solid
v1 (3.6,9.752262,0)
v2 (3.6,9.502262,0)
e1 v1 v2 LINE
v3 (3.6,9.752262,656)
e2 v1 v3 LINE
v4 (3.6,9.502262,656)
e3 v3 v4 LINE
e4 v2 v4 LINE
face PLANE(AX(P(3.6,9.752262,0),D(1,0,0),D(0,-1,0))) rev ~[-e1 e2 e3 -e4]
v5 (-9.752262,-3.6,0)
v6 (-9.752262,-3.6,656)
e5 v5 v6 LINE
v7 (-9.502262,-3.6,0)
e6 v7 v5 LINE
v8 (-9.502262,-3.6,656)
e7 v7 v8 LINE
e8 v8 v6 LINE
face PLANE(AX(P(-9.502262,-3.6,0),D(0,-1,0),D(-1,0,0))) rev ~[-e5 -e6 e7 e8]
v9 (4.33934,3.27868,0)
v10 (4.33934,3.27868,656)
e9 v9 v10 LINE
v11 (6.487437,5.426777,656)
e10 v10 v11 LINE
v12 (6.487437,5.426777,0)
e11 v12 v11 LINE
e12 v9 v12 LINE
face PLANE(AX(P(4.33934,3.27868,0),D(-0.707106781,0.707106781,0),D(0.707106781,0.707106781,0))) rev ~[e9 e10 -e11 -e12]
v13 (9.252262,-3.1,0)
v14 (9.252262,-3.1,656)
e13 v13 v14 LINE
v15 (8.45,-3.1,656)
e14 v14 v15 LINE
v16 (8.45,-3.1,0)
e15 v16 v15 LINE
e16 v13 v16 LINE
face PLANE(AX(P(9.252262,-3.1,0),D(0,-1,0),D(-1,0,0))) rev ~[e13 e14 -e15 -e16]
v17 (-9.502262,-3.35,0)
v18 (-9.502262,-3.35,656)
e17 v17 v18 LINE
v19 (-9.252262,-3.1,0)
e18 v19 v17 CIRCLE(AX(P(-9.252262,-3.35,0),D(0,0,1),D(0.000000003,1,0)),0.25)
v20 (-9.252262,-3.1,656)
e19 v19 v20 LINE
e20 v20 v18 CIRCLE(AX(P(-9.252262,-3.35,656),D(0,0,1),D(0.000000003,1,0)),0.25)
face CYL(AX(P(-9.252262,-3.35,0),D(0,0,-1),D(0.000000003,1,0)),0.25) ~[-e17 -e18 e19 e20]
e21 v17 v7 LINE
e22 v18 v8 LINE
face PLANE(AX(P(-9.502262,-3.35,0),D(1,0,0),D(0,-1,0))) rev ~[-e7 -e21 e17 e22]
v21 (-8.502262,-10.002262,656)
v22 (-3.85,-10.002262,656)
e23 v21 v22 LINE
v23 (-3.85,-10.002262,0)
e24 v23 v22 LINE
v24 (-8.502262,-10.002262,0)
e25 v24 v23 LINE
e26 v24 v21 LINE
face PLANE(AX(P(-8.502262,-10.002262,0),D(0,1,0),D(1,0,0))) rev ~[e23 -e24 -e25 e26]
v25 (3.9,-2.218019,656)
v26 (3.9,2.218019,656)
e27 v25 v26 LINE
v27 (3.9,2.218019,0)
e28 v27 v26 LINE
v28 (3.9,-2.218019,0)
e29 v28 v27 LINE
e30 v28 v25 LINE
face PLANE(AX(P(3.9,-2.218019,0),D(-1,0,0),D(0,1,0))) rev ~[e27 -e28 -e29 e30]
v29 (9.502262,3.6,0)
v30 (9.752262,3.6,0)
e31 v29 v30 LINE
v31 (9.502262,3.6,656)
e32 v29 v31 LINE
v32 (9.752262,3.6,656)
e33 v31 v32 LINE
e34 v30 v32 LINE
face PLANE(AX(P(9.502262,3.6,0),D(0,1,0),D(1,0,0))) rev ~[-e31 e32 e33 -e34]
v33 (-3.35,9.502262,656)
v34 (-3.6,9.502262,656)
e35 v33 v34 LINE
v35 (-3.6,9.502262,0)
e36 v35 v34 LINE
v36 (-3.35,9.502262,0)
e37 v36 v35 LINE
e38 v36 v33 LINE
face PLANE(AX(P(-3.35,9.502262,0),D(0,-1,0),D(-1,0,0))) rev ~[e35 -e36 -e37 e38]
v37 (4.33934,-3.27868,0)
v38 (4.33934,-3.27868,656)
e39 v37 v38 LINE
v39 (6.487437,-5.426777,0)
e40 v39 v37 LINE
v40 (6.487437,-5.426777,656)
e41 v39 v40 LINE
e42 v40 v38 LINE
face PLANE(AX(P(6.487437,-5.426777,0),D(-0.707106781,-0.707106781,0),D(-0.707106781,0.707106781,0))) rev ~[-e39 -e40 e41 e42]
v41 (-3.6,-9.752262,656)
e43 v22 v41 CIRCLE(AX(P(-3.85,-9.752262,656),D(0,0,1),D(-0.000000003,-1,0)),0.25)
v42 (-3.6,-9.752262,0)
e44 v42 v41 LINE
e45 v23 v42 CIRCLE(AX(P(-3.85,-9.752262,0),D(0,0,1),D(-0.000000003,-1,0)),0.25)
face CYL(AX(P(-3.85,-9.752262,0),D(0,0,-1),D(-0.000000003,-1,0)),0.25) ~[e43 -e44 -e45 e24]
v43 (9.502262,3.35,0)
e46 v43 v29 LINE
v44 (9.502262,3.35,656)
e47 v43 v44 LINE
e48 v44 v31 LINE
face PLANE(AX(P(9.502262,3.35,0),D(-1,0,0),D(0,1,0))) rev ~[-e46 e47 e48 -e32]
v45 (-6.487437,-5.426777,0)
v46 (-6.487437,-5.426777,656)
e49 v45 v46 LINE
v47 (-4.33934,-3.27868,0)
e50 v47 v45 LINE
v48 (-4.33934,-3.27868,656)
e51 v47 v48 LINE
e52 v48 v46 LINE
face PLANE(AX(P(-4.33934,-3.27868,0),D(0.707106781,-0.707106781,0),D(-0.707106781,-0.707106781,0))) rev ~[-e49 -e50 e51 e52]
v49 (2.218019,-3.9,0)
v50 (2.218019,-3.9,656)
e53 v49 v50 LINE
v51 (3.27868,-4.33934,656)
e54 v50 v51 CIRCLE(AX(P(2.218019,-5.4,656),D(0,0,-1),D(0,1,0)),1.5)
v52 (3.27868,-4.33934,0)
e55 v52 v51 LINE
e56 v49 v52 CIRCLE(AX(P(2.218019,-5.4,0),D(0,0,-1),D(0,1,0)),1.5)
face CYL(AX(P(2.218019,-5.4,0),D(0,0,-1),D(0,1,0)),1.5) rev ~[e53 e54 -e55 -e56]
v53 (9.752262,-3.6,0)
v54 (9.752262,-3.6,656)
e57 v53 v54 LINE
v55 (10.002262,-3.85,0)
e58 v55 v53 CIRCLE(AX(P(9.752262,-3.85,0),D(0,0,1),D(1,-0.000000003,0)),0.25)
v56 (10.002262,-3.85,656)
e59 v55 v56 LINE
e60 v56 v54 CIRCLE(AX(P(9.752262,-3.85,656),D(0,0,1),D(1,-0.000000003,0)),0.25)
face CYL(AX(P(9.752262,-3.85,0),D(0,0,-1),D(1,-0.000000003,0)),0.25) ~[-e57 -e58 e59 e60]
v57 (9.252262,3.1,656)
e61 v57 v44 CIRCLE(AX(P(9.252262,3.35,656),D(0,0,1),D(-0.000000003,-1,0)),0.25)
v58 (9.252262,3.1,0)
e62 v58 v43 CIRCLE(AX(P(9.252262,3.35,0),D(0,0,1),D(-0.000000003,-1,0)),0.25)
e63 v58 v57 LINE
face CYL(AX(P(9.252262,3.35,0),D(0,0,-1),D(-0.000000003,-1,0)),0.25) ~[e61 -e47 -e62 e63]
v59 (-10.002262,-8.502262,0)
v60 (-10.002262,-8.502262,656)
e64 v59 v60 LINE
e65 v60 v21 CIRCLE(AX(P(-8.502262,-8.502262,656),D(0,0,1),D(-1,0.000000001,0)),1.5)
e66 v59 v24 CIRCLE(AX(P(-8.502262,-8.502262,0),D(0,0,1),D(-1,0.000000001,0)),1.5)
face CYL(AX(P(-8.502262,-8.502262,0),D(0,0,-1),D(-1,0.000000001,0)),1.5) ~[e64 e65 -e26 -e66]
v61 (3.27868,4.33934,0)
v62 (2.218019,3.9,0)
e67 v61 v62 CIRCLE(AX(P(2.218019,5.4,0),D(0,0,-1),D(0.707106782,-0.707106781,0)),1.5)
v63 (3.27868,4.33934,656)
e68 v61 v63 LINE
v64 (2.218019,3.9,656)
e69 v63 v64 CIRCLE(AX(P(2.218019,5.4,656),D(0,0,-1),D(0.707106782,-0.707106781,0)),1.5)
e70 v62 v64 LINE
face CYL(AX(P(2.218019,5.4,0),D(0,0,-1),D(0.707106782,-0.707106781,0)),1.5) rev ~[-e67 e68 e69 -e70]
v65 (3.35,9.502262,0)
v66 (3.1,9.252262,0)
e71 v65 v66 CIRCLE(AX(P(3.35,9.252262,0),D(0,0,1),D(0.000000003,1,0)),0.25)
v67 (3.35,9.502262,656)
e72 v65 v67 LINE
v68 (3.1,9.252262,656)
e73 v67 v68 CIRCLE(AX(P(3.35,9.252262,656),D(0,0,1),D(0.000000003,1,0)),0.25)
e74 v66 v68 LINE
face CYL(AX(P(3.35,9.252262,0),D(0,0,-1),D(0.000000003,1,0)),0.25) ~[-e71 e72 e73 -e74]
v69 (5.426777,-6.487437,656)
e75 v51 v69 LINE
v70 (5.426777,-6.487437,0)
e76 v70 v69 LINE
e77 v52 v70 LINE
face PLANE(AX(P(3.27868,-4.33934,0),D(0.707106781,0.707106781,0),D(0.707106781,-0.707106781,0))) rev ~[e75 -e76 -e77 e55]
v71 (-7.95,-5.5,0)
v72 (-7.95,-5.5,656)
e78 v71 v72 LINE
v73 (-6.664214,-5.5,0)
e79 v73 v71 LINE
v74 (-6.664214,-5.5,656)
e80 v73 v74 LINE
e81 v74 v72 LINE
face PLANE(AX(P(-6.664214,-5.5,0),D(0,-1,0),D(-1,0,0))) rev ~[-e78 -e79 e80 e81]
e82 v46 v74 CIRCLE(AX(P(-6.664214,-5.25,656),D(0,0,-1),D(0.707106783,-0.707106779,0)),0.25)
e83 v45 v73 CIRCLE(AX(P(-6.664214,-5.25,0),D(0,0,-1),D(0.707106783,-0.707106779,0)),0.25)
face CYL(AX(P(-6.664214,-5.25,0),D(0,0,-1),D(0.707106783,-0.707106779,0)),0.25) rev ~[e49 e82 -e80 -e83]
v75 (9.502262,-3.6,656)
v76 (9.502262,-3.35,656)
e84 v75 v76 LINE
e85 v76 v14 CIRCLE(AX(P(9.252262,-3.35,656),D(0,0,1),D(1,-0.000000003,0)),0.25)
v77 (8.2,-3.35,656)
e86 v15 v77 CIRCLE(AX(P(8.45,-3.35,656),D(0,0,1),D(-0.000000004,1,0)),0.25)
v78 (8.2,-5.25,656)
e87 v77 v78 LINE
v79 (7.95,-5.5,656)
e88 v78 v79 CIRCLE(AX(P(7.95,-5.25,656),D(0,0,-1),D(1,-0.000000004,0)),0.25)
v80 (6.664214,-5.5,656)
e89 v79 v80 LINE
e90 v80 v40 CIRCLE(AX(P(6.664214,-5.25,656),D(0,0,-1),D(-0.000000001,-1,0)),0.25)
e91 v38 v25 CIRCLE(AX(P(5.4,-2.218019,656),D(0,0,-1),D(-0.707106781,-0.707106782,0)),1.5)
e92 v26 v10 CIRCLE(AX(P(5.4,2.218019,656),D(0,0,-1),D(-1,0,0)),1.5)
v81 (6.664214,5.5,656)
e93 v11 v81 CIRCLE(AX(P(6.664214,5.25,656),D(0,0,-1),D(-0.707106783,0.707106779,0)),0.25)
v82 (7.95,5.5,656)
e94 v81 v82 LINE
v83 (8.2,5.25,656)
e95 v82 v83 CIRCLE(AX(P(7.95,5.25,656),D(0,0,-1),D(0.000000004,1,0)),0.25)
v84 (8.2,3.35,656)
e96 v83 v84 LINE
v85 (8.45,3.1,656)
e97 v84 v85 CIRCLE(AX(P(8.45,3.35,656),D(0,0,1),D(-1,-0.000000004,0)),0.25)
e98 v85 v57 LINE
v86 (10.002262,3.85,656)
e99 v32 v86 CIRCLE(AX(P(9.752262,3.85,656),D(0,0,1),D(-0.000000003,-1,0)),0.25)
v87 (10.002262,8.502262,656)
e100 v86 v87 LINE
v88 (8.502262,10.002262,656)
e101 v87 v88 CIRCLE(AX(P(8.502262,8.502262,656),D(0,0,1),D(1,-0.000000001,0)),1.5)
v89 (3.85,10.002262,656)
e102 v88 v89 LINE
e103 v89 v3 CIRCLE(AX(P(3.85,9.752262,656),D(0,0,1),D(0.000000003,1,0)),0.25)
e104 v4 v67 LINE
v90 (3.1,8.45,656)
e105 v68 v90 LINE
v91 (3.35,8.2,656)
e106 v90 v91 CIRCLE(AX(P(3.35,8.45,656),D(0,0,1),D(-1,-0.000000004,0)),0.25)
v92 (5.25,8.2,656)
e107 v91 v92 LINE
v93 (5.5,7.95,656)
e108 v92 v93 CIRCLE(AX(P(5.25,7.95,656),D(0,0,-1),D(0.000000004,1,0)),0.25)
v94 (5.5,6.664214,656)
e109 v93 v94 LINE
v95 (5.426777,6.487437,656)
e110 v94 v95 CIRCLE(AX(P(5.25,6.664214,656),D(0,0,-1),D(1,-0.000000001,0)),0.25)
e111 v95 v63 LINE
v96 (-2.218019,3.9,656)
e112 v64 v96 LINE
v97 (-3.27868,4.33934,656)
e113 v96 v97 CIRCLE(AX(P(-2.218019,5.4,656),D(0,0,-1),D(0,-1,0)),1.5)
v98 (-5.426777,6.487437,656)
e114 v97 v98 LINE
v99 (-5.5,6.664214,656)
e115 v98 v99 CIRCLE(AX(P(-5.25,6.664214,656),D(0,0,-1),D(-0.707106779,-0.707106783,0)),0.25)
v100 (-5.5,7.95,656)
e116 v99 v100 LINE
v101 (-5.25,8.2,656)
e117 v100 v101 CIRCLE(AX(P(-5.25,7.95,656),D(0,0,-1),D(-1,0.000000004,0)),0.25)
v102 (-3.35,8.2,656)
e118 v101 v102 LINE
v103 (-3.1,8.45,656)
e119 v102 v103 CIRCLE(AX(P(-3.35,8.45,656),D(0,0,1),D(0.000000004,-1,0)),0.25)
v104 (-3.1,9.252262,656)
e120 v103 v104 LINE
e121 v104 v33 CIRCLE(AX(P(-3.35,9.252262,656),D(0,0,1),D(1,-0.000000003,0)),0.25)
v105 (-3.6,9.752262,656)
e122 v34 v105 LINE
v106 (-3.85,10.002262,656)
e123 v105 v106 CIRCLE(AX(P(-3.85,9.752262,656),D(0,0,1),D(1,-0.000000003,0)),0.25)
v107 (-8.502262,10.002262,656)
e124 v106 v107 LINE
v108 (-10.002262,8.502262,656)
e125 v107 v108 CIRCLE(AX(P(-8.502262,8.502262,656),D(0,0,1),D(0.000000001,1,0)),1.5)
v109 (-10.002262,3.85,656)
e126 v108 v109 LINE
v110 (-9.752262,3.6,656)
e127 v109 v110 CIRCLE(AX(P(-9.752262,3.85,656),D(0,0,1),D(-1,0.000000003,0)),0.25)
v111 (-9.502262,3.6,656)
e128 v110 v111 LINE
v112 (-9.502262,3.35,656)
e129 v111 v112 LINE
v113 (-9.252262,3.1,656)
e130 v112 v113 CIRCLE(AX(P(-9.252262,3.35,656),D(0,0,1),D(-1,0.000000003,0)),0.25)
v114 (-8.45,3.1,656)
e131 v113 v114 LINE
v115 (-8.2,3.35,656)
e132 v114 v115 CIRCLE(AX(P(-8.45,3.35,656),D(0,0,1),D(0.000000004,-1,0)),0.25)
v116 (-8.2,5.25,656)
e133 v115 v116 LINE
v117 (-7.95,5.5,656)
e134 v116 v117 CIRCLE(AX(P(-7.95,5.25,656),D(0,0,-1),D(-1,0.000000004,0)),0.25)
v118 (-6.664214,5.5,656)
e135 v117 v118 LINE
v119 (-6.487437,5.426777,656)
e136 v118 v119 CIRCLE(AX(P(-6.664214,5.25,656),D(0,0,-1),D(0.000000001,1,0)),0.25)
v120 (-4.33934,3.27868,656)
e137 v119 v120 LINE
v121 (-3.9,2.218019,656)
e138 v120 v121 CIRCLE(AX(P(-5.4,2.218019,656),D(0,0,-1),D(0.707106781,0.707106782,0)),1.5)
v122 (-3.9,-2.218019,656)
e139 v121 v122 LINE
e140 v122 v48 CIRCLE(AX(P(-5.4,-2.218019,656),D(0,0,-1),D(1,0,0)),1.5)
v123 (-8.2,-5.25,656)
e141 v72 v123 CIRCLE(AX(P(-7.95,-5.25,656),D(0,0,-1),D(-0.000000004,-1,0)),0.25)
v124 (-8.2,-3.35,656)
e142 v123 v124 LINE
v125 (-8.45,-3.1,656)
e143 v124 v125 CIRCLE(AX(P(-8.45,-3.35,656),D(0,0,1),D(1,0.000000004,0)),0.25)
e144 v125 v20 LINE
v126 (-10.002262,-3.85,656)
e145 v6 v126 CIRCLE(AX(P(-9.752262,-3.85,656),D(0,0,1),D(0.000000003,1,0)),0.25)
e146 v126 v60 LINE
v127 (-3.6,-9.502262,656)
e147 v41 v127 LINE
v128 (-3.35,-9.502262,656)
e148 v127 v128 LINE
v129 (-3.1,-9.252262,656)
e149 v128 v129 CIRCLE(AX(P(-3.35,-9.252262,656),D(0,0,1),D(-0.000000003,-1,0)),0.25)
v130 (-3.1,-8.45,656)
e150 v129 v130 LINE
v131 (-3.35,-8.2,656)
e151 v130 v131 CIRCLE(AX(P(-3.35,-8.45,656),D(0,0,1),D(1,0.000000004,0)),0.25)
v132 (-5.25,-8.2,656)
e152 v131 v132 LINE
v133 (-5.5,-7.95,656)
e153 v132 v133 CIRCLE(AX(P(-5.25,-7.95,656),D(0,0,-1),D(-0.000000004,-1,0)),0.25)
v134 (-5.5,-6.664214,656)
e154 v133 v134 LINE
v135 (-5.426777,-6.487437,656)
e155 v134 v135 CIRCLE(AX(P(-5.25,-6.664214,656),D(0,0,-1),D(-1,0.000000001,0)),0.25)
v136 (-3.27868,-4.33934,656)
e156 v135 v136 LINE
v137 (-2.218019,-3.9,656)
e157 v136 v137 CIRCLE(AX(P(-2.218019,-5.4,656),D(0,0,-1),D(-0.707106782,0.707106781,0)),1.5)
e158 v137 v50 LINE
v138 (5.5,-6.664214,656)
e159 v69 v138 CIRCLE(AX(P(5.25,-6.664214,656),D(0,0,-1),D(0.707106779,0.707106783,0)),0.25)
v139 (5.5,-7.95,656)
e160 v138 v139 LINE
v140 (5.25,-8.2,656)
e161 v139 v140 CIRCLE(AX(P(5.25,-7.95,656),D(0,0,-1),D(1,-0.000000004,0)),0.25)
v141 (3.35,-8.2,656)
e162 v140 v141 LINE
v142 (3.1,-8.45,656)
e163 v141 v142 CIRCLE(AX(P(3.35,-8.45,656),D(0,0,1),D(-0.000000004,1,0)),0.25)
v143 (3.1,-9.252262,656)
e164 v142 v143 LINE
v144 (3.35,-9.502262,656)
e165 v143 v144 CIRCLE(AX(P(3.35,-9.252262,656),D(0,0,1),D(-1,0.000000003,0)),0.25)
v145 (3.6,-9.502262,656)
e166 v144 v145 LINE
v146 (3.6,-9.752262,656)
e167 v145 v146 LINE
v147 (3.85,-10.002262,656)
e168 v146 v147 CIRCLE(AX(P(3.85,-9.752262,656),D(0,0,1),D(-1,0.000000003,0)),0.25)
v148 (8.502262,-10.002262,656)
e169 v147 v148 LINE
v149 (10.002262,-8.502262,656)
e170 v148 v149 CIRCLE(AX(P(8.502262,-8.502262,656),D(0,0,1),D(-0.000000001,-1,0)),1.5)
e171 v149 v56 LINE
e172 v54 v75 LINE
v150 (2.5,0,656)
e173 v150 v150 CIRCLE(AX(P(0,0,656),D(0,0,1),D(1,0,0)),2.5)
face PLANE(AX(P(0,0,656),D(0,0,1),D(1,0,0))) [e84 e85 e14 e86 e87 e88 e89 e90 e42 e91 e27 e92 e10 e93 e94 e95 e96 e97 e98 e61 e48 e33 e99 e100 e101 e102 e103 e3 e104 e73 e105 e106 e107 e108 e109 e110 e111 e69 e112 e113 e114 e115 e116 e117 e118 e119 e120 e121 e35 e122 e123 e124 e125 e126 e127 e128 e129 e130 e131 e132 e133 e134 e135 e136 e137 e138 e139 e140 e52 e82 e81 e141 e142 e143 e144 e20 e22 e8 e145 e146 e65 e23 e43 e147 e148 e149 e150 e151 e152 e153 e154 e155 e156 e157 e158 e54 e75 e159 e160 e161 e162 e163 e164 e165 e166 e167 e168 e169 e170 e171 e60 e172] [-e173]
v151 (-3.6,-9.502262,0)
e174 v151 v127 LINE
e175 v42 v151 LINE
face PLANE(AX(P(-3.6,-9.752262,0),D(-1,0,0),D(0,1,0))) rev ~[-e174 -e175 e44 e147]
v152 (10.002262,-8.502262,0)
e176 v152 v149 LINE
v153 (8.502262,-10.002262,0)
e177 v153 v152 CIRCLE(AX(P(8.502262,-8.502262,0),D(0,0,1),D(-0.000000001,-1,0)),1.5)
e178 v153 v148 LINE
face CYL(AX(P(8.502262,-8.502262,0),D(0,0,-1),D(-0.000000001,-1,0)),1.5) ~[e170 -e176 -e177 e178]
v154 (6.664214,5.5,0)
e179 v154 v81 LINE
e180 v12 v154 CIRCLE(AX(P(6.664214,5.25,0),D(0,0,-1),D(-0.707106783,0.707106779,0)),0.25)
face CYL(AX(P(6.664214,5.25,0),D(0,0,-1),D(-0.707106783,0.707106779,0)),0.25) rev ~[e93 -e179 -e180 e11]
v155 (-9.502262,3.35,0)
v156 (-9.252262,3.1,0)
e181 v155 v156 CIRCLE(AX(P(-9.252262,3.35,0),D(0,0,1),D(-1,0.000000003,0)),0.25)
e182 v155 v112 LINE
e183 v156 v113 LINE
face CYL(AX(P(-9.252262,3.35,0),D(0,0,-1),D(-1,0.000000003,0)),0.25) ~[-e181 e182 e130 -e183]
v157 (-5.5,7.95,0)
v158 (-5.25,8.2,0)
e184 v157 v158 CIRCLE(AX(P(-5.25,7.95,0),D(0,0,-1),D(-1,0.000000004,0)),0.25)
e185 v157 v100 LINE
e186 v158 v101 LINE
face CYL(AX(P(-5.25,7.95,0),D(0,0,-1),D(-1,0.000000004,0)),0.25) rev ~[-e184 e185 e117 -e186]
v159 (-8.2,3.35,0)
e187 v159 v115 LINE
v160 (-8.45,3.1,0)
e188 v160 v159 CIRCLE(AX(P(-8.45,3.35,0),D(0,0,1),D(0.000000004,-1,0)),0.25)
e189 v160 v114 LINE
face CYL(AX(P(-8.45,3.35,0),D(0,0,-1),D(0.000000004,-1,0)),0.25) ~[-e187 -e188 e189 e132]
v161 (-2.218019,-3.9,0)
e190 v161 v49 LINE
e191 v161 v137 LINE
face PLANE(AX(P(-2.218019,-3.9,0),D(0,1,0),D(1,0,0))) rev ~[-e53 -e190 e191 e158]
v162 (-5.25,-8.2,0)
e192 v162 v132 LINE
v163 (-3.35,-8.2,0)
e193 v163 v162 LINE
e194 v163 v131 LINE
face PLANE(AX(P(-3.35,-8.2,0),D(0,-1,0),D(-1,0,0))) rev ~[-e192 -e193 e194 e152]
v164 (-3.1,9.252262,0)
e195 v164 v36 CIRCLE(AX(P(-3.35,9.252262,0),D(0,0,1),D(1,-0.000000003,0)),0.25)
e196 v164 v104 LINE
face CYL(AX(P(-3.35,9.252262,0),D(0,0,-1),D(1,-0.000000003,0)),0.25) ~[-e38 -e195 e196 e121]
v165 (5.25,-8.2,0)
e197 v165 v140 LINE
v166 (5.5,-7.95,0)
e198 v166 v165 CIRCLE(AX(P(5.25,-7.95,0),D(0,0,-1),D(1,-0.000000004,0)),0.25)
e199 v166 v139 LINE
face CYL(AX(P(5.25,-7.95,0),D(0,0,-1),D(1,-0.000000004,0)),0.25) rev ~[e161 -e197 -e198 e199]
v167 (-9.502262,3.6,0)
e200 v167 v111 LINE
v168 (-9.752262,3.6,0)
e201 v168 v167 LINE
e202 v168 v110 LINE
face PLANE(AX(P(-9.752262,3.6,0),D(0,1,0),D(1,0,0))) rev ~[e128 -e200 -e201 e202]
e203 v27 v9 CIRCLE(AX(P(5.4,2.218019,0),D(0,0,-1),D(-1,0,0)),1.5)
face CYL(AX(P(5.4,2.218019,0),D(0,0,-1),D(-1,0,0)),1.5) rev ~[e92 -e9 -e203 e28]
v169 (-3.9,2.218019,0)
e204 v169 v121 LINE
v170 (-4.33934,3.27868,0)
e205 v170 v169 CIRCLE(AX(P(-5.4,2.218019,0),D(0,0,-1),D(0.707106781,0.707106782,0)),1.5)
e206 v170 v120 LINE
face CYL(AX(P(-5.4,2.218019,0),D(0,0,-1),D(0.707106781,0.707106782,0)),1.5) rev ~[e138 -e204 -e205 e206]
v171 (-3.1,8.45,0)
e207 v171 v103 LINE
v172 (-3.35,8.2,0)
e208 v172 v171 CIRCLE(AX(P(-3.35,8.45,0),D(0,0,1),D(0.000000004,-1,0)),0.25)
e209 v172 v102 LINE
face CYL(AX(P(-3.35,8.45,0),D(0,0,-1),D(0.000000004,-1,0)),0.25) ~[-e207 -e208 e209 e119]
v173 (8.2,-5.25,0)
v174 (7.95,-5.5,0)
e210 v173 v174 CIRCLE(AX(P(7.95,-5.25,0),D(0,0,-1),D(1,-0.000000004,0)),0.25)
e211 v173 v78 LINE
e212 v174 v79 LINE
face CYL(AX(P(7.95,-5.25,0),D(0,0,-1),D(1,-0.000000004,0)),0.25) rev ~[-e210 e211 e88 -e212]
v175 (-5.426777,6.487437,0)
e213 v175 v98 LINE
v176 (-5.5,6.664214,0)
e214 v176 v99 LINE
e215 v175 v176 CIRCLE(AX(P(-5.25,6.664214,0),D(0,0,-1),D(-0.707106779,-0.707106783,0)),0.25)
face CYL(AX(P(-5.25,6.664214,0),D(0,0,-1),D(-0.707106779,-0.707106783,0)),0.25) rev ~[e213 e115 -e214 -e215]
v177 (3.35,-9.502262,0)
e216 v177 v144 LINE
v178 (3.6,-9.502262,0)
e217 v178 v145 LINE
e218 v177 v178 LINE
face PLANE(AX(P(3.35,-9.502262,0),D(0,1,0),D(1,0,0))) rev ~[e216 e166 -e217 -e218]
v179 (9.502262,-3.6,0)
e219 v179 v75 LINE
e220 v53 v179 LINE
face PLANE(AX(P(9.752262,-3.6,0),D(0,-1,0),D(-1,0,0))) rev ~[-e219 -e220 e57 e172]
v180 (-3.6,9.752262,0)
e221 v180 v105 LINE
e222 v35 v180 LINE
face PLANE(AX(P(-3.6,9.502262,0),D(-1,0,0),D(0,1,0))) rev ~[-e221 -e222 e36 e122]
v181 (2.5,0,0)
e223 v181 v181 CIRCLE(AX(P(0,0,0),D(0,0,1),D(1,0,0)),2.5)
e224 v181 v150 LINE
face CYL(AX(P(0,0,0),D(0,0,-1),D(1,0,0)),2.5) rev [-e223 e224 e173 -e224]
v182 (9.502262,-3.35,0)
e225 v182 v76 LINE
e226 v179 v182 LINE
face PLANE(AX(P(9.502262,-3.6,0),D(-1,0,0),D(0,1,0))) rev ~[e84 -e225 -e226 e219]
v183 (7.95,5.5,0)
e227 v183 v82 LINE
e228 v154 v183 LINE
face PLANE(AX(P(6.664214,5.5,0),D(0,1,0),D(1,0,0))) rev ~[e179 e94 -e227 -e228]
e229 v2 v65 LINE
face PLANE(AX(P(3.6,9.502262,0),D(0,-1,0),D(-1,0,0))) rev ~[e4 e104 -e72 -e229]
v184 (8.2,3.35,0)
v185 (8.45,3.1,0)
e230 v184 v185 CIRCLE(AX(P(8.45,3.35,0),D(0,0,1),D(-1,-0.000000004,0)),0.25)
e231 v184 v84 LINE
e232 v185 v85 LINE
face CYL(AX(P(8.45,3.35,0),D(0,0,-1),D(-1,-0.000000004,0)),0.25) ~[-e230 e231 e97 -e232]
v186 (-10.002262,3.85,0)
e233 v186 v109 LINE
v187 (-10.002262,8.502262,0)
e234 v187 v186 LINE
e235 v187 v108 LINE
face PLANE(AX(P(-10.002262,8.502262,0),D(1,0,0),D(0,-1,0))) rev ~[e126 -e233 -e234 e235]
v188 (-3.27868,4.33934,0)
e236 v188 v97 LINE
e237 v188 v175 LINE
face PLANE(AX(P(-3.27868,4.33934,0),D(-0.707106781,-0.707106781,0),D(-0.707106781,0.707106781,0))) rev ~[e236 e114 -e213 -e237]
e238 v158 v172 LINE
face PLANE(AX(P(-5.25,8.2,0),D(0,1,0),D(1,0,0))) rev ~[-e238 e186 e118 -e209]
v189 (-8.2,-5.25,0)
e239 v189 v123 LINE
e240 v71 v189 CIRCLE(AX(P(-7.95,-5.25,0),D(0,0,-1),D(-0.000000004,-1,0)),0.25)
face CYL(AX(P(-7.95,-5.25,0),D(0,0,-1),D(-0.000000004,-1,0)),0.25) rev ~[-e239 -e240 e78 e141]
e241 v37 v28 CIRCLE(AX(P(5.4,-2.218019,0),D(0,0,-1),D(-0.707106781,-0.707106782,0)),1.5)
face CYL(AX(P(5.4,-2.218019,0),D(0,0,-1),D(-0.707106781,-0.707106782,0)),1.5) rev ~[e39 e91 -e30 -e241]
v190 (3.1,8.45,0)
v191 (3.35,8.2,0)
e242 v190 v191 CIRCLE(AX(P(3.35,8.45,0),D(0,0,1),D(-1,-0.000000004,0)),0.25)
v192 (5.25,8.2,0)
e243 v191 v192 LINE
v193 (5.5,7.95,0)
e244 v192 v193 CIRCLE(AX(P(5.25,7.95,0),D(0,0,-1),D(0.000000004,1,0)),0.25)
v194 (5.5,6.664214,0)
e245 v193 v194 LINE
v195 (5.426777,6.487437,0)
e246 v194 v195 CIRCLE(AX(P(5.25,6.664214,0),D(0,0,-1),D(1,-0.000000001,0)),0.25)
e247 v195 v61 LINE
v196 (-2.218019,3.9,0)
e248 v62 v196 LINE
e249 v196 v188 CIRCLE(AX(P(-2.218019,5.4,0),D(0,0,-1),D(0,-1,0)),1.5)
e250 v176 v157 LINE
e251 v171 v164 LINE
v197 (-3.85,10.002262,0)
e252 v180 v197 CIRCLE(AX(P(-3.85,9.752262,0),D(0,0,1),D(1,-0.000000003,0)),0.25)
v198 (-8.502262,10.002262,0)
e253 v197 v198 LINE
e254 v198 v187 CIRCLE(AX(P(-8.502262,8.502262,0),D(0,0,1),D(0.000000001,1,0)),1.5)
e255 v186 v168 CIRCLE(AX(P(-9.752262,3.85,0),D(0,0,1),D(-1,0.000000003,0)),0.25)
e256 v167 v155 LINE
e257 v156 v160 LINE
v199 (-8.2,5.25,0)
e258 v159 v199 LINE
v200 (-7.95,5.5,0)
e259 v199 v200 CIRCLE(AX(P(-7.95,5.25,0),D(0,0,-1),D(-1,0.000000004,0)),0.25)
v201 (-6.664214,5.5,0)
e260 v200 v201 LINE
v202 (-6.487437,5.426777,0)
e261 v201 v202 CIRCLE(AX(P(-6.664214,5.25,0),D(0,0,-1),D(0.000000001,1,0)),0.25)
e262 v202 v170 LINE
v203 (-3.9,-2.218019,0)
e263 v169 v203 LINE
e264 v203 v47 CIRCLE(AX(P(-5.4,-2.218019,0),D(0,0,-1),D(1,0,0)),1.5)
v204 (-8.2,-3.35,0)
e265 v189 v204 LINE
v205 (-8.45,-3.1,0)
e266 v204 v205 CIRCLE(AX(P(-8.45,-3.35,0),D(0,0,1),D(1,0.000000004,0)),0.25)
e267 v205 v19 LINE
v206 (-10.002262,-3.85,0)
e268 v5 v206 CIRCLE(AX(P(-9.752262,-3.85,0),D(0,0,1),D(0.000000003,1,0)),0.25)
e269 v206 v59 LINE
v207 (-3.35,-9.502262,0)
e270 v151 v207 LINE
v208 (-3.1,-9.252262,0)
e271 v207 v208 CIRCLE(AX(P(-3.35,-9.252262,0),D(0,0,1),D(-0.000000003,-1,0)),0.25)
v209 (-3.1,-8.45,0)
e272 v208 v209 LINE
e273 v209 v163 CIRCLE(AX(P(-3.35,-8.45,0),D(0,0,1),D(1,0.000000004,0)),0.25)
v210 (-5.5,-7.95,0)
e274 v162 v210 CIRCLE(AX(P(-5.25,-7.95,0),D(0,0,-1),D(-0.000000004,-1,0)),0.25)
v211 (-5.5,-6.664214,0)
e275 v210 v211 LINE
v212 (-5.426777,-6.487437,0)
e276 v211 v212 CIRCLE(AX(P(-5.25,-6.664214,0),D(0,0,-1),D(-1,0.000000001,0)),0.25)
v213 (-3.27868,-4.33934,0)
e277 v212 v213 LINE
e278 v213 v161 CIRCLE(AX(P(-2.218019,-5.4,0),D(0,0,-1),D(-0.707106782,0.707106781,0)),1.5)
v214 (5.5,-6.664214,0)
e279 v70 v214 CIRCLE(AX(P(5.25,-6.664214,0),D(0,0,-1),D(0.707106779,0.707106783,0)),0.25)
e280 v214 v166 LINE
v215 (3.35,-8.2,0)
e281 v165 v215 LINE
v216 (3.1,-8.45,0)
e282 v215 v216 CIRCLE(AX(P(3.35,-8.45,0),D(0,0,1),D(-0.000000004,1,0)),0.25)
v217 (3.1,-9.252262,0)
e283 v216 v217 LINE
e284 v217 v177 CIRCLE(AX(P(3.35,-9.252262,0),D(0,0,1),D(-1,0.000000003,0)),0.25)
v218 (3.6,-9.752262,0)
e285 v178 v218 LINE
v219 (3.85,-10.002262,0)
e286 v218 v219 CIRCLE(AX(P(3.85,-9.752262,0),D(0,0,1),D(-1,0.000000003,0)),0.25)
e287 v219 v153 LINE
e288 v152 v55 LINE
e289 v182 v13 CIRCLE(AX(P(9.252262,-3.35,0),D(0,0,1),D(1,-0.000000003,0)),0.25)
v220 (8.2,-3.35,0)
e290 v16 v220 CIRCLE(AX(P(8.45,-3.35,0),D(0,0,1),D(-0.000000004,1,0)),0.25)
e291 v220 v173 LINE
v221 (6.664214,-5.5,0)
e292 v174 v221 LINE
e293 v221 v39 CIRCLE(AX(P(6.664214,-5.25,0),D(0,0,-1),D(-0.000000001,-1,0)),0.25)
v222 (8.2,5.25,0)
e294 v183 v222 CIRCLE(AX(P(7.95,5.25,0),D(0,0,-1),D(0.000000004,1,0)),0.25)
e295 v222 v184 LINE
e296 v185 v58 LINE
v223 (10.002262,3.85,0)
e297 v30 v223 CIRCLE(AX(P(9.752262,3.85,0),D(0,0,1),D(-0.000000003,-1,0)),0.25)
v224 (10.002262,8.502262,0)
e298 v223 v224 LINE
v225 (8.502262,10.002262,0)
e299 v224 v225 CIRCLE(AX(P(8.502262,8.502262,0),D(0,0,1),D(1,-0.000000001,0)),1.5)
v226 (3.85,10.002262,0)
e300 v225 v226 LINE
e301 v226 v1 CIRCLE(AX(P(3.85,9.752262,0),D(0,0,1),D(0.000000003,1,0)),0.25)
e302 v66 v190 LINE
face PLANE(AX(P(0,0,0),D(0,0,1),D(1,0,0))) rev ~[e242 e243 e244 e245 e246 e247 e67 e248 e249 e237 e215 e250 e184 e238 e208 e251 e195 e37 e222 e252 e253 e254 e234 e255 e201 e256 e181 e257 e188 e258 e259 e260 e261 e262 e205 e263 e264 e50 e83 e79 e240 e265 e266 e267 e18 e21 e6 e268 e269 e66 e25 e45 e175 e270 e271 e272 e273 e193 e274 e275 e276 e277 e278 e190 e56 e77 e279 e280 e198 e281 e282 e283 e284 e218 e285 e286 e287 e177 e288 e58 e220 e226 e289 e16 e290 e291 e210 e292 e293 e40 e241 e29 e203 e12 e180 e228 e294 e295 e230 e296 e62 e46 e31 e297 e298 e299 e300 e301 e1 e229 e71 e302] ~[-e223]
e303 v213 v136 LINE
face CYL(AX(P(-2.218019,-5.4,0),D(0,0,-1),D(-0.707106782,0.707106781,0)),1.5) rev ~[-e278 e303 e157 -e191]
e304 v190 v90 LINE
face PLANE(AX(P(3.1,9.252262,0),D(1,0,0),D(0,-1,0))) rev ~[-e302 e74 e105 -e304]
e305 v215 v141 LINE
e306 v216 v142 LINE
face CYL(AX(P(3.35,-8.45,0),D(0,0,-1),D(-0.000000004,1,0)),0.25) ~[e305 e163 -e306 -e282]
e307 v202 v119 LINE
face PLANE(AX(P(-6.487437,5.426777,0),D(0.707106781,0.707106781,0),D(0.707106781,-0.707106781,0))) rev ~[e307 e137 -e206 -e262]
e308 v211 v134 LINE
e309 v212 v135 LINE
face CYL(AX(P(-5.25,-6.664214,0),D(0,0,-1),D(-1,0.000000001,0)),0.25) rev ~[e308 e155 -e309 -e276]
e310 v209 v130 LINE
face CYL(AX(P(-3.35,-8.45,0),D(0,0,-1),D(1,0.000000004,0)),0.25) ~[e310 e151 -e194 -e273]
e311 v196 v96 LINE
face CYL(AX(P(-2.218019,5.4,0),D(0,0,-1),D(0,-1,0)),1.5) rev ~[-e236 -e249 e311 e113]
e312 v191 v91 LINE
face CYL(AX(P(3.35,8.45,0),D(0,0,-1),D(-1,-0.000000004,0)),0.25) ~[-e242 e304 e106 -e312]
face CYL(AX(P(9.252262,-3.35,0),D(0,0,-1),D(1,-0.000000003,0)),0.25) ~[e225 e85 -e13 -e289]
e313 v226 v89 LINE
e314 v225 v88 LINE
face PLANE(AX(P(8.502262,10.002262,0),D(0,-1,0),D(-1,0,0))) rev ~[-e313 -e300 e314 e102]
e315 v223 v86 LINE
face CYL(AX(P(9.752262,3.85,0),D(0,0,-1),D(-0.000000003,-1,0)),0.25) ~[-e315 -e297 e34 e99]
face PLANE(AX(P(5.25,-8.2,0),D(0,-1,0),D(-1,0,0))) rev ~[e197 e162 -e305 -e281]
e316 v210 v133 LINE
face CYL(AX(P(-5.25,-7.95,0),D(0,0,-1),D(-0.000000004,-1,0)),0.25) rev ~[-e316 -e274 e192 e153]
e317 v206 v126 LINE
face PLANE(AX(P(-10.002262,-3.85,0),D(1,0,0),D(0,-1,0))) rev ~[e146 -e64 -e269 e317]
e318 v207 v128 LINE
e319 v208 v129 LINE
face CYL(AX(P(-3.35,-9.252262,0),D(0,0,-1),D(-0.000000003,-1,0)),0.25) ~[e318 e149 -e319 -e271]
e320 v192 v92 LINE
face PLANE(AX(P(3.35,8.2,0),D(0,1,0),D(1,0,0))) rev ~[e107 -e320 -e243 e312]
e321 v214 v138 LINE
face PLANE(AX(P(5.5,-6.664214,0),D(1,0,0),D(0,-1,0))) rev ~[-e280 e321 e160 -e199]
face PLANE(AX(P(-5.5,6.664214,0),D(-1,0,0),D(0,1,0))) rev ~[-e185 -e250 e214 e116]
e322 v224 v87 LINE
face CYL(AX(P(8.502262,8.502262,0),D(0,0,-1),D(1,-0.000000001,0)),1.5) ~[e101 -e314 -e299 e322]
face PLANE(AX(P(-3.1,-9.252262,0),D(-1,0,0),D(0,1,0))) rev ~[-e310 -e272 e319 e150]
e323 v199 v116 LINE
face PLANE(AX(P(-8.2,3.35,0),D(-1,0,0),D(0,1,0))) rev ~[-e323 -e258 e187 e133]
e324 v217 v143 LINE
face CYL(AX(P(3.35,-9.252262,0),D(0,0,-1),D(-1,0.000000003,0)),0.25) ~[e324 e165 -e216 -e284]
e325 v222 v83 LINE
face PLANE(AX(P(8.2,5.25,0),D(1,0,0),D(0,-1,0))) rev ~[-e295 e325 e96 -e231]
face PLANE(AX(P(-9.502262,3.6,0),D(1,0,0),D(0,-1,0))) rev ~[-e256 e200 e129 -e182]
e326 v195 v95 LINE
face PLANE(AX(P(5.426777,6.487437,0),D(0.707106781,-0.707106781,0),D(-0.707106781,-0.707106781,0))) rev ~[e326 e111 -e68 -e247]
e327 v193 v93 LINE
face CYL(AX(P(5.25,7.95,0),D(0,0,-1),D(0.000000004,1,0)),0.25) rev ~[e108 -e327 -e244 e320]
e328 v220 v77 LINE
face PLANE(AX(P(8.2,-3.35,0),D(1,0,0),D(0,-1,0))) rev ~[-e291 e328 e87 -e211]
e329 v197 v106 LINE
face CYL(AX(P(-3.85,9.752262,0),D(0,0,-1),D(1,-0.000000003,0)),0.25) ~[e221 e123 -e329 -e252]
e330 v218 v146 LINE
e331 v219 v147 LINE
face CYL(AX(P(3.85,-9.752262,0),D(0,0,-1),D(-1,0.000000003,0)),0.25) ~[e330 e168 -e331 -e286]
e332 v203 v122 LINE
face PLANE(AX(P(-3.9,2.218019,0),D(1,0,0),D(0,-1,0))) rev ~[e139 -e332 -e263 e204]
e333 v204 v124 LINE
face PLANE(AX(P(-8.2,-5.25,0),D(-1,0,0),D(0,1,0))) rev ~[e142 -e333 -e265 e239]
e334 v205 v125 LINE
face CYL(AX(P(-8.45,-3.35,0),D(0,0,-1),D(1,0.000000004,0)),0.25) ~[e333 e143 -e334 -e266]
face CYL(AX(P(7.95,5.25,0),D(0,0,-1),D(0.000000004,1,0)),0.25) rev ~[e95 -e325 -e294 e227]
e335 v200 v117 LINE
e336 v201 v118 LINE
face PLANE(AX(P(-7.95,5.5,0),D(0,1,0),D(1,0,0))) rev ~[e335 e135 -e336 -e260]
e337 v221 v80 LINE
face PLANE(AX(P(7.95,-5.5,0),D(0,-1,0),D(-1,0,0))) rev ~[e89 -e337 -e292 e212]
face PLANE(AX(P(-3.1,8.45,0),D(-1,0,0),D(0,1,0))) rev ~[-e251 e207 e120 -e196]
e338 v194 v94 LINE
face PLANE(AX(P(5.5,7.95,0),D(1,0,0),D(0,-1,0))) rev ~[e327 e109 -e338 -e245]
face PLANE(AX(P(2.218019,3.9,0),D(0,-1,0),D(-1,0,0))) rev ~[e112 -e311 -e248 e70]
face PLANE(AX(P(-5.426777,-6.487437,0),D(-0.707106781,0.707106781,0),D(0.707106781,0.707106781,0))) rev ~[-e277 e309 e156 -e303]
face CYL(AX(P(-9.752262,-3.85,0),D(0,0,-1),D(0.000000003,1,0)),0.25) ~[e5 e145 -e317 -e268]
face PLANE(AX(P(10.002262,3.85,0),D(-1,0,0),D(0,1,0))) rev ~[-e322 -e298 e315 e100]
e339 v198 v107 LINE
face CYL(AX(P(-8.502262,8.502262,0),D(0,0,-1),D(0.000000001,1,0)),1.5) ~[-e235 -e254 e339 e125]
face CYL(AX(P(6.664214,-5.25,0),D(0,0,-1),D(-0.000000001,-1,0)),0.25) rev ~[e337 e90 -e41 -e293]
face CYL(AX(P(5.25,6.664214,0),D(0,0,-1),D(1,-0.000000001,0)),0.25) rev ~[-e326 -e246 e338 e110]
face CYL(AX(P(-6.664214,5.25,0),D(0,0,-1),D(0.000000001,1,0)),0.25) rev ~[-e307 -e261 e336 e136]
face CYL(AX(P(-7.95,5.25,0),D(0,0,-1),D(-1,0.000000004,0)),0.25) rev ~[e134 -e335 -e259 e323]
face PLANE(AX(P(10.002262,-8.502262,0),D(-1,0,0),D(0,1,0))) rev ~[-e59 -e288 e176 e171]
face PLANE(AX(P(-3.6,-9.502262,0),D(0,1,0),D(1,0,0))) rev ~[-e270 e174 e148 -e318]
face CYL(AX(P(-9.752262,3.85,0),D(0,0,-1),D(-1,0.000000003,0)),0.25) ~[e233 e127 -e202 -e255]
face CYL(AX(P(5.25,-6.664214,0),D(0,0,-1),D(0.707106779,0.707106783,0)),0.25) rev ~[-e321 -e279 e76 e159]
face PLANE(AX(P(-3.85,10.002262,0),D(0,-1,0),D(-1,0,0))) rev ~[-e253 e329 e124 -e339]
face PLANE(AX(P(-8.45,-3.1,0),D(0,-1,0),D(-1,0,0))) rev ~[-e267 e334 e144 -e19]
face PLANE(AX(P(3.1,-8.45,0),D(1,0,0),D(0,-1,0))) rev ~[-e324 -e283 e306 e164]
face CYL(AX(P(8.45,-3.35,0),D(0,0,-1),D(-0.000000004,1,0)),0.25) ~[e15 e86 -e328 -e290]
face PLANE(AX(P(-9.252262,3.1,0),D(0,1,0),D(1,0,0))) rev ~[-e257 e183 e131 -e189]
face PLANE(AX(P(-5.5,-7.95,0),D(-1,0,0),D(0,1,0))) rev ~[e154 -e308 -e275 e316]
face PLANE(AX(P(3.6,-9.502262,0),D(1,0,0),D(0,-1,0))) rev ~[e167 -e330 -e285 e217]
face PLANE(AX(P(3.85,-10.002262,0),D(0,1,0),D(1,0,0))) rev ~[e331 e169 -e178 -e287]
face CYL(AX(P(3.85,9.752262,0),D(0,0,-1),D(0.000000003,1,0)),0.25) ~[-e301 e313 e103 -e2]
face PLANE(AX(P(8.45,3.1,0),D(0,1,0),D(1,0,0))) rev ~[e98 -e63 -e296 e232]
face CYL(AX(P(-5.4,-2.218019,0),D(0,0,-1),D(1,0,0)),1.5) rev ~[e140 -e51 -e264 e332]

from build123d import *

# Parameters (mm, degrees)
SKETCH_1_R      = 2.5
EXTRUDE_1_DEPTH = 656


with BuildPart() as part:
    # 草图1 → 凸台-拉伸1 (new body)
    with BuildSketch(Plane.XY):
        with BuildLine():
            Line((-8.502261885, -10.002261885), (-3.85, -10.002261885))
            ThreePointArc((-3.85, -10.002261885), (-3.673223305, -9.929038581), (-3.6, -9.752261885))
            Line((-3.6, -9.752261885), (-3.6, -9.502261885))
            Line((-3.6, -9.502261885), (-3.35, -9.502261885))
            ThreePointArc((-3.35, -9.502261885), (-3.173223305, -9.429038581), (-3.1, -9.252261885))
            Line((-3.1, -9.252261885), (-3.1, -8.45))
            ThreePointArc((-3.1, -8.45), (-3.173223305, -8.273223305), (-3.35, -8.2))
            Line((-3.35, -8.2), (-5.25, -8.2))
            ThreePointArc((-5.25, -8.2), (-5.426776695, -8.126776695), (-5.5, -7.95))
            Line((-5.5, -7.95), (-5.5, -6.664213562))
            ThreePointArc((-5.5, -6.664213562), (-5.480969883, -6.568542704), (-5.426776695, -6.487436867))
            Line((-5.426776695, -6.487436867), (-3.278679656, -4.339339828))
            ThreePointArc((-3.278679656, -4.339339828), (-2.792044633, -4.014180701), (-2.218019485, -3.9))
            Line((-2.218019485, -3.9), (2.218019485, -3.9))
            ThreePointArc((2.218019485, -3.9), (2.792044633, -4.014180701), (3.278679656, -4.339339828))
            Line((3.278679656, -4.339339828), (5.426776695, -6.487436867))
            ThreePointArc((5.426776695, -6.487436867), (5.480969883, -6.568542704), (5.5, -6.664213562))
            Line((5.5, -6.664213562), (5.5, -7.95))
            ThreePointArc((5.5, -7.95), (5.426776695, -8.126776695), (5.25, -8.2))
            Line((5.25, -8.2), (3.35, -8.2))
            ThreePointArc((3.35, -8.2), (3.173223305, -8.273223305), (3.1, -8.45))
            Line((3.1, -8.45), (3.1, -9.252261885))
            ThreePointArc((3.1, -9.252261885), (3.173223305, -9.429038581), (3.35, -9.502261885))
            Line((3.35, -9.502261885), (3.6, -9.502261885))
            Line((3.6, -9.502261885), (3.6, -9.752261885))
            ThreePointArc((3.6, -9.752261885), (3.673223305, -9.929038581), (3.85, -10.002261885))
            Line((3.85, -10.002261885), (8.502261885, -10.002261885))
            ThreePointArc((8.502261885, -10.002261885), (9.562922057, -9.562922057), (10.002261885, -8.502261885))
            Line((10.002261885, -8.502261885), (10.002261885, -3.85))
            ThreePointArc((10.002261885, -3.85), (9.929038581, -3.673223305), (9.752261885, -3.6))
            Line((9.752261885, -3.6), (9.502261885, -3.6))
            Line((9.502261885, -3.6), (9.502261885, -3.35))
            ThreePointArc((9.502261885, -3.35), (9.429038581, -3.173223305), (9.252261885, -3.1))
            Line((9.252261885, -3.1), (8.45, -3.1))
            ThreePointArc((8.45, -3.1), (8.273223305, -3.173223305), (8.2, -3.35))
            Line((8.2, -3.35), (8.2, -5.25))
            ThreePointArc((8.2, -5.25), (8.126776695, -5.426776695), (7.95, -5.5))
            Line((7.95, -5.5), (6.664213562, -5.5))
            ThreePointArc((6.664213562, -5.5), (6.568542704, -5.480969883), (6.487436867, -5.426776695))
            Line((6.487436867, -5.426776695), (4.339339828, -3.278679656))
            ThreePointArc((4.339339828, -3.278679656), (4.014180701, -2.792044633), (3.9, -2.218019485))
            Line((3.9, -2.218019485), (3.9, 2.218019485))
            ThreePointArc((3.9, 2.218019485), (4.014180701, 2.792044633), (4.339339828, 3.278679656))
            Line((4.339339828, 3.278679656), (6.487436867, 5.426776695))
            ThreePointArc((6.487436867, 5.426776695), (6.568542704, 5.480969883), (6.664213562, 5.5))
            Line((6.664213562, 5.5), (7.95, 5.5))
            ThreePointArc((7.95, 5.5), (8.126776695, 5.426776695), (8.2, 5.25))
            Line((8.2, 5.25), (8.2, 3.35))
            ThreePointArc((8.2, 3.35), (8.273223305, 3.173223305), (8.45, 3.1))
            Line((8.45, 3.1), (9.252261885, 3.1))
            ThreePointArc((9.252261885, 3.1), (9.429038581, 3.173223305), (9.502261885, 3.35))
            Line((9.502261885, 3.35), (9.502261885, 3.6))
            Line((9.502261885, 3.6), (9.752261885, 3.6))
            ThreePointArc((9.752261885, 3.6), (9.929038581, 3.673223305), (10.002261885, 3.85))
            Line((10.002261885, 3.85), (10.002261885, 8.502261885))
            ThreePointArc((10.002261885, 8.502261885), (9.562922057, 9.562922057), (8.502261885, 10.002261885))
            Line((8.502261885, 10.002261885), (3.85, 10.002261885))
            ThreePointArc((3.85, 10.002261885), (3.673223305, 9.929038581), (3.6, 9.752261885))
            Line((3.6, 9.752261885), (3.6, 9.502261885))
            Line((3.6, 9.502261885), (3.35, 9.502261885))
            ThreePointArc((3.35, 9.502261885), (3.173223305, 9.429038581), (3.1, 9.252261885))
            Line((3.1, 9.252261885), (3.1, 8.45))
            ThreePointArc((3.1, 8.45), (3.173223305, 8.273223305), (3.35, 8.2))
            Line((3.35, 8.2), (5.25, 8.2))
            ThreePointArc((5.25, 8.2), (5.426776695, 8.126776695), (5.5, 7.95))
            Line((5.5, 7.95), (5.5, 6.664213562))
            ThreePointArc((5.5, 6.664213562), (5.480969883, 6.568542704), (5.426776695, 6.487436867))
            Line((5.426776695, 6.487436867), (3.278679656, 4.339339828))
            ThreePointArc((3.278679656, 4.339339828), (2.792044633, 4.014180701), (2.218019485, 3.9))
            Line((2.218019485, 3.9), (-2.218019485, 3.9))
            ThreePointArc((-2.218019485, 3.9), (-2.792044633, 4.014180701), (-3.278679656, 4.339339828))
            Line((-3.278679656, 4.339339828), (-5.426776695, 6.487436867))
            ThreePointArc((-5.426776695, 6.487436867), (-5.480969883, 6.568542704), (-5.5, 6.664213562))
            Line((-5.5, 6.664213562), (-5.5, 7.95))
            ThreePointArc((-5.5, 7.95), (-5.426776695, 8.126776695), (-5.25, 8.2))
            Line((-5.25, 8.2), (-3.35, 8.2))
            ThreePointArc((-3.35, 8.2), (-3.173223305, 8.273223305), (-3.1, 8.45))
            Line((-3.1, 8.45), (-3.1, 9.252261885))
            ThreePointArc((-3.1, 9.252261885), (-3.173223305, 9.429038581), (-3.35, 9.502261885))
            Line((-3.35, 9.502261885), (-3.6, 9.502261885))
            Line((-3.6, 9.502261885), (-3.6, 9.752261885))
            ThreePointArc((-3.6, 9.752261885), (-3.673223305, 9.929038581), (-3.85, 10.002261885))
            Line((-3.85, 10.002261885), (-8.502261885, 10.002261885))
            ThreePointArc((-8.502261885, 10.002261885), (-9.562922057, 9.562922057), (-10.002261885, 8.502261885))
            Line((-10.002261885, 8.502261885), (-10.002261885, 3.85))
            ThreePointArc((-10.002261885, 3.85), (-9.929038581, 3.673223305), (-9.752261885, 3.6))
            Line((-9.752261885, 3.6), (-9.502261885, 3.6))
            Line((-9.502261885, 3.6), (-9.502261885, 3.35))
            ThreePointArc((-9.502261885, 3.35), (-9.429038581, 3.173223305), (-9.252261885, 3.1))
            Line((-9.252261885, 3.1), (-8.45, 3.1))
            ThreePointArc((-8.45, 3.1), (-8.273223305, 3.173223305), (-8.2, 3.35))
            Line((-8.2, 3.35), (-8.2, 5.25))
            ThreePointArc((-8.2, 5.25), (-8.126776695, 5.426776695), (-7.95, 5.5))
            Line((-7.95, 5.5), (-6.664213562, 5.5))
            ThreePointArc((-6.664213562, 5.5), (-6.568542704, 5.480969883), (-6.487436867, 5.426776695))
            Line((-6.487436867, 5.426776695), (-4.339339828, 3.278679656))
            ThreePointArc((-4.339339828, 3.278679656), (-4.014180701, 2.792044633), (-3.9, 2.218019485))
            Line((-3.9, 2.218019485), (-3.9, -2.218019485))
            ThreePointArc((-3.9, -2.218019485), (-4.014180701, -2.792044633), (-4.339339828, -3.278679656))
            Line((-4.339339828, -3.278679656), (-6.487436867, -5.426776695))
            ThreePointArc((-6.487436867, -5.426776695), (-6.568542704, -5.480969883), (-6.664213562, -5.5))
            Line((-6.664213562, -5.5), (-7.95, -5.5))
            ThreePointArc((-7.95, -5.5), (-8.126776695, -5.426776695), (-8.2, -5.25))
            Line((-8.2, -5.25), (-8.2, -3.35))
            ThreePointArc((-8.2, -3.35), (-8.273223305, -3.173223305), (-8.45, -3.1))
            Line((-8.45, -3.1), (-9.252261885, -3.1))
            ThreePointArc((-9.252261885, -3.1), (-9.429038581, -3.173223305), (-9.502261885, -3.35))
            Line((-9.502261885, -3.35), (-9.502261885, -3.6))
            Line((-9.502261885, -3.6), (-9.752261885, -3.6))
            ThreePointArc((-9.752261885, -3.6), (-9.929038581, -3.673223305), (-10.002261885, -3.85))
            Line((-10.002261885, -3.85), (-10.002261885, -8.502261885))
            ThreePointArc((-10.002261885, -8.502261885), (-9.562922057, -9.562922057), (-8.502261885, -10.002261885))
        make_face()
        Circle(SKETCH_1_R, mode=Mode.SUBTRACT)
    extrude(amount=EXTRUDE_1_DEPTH)


solid = part.part
